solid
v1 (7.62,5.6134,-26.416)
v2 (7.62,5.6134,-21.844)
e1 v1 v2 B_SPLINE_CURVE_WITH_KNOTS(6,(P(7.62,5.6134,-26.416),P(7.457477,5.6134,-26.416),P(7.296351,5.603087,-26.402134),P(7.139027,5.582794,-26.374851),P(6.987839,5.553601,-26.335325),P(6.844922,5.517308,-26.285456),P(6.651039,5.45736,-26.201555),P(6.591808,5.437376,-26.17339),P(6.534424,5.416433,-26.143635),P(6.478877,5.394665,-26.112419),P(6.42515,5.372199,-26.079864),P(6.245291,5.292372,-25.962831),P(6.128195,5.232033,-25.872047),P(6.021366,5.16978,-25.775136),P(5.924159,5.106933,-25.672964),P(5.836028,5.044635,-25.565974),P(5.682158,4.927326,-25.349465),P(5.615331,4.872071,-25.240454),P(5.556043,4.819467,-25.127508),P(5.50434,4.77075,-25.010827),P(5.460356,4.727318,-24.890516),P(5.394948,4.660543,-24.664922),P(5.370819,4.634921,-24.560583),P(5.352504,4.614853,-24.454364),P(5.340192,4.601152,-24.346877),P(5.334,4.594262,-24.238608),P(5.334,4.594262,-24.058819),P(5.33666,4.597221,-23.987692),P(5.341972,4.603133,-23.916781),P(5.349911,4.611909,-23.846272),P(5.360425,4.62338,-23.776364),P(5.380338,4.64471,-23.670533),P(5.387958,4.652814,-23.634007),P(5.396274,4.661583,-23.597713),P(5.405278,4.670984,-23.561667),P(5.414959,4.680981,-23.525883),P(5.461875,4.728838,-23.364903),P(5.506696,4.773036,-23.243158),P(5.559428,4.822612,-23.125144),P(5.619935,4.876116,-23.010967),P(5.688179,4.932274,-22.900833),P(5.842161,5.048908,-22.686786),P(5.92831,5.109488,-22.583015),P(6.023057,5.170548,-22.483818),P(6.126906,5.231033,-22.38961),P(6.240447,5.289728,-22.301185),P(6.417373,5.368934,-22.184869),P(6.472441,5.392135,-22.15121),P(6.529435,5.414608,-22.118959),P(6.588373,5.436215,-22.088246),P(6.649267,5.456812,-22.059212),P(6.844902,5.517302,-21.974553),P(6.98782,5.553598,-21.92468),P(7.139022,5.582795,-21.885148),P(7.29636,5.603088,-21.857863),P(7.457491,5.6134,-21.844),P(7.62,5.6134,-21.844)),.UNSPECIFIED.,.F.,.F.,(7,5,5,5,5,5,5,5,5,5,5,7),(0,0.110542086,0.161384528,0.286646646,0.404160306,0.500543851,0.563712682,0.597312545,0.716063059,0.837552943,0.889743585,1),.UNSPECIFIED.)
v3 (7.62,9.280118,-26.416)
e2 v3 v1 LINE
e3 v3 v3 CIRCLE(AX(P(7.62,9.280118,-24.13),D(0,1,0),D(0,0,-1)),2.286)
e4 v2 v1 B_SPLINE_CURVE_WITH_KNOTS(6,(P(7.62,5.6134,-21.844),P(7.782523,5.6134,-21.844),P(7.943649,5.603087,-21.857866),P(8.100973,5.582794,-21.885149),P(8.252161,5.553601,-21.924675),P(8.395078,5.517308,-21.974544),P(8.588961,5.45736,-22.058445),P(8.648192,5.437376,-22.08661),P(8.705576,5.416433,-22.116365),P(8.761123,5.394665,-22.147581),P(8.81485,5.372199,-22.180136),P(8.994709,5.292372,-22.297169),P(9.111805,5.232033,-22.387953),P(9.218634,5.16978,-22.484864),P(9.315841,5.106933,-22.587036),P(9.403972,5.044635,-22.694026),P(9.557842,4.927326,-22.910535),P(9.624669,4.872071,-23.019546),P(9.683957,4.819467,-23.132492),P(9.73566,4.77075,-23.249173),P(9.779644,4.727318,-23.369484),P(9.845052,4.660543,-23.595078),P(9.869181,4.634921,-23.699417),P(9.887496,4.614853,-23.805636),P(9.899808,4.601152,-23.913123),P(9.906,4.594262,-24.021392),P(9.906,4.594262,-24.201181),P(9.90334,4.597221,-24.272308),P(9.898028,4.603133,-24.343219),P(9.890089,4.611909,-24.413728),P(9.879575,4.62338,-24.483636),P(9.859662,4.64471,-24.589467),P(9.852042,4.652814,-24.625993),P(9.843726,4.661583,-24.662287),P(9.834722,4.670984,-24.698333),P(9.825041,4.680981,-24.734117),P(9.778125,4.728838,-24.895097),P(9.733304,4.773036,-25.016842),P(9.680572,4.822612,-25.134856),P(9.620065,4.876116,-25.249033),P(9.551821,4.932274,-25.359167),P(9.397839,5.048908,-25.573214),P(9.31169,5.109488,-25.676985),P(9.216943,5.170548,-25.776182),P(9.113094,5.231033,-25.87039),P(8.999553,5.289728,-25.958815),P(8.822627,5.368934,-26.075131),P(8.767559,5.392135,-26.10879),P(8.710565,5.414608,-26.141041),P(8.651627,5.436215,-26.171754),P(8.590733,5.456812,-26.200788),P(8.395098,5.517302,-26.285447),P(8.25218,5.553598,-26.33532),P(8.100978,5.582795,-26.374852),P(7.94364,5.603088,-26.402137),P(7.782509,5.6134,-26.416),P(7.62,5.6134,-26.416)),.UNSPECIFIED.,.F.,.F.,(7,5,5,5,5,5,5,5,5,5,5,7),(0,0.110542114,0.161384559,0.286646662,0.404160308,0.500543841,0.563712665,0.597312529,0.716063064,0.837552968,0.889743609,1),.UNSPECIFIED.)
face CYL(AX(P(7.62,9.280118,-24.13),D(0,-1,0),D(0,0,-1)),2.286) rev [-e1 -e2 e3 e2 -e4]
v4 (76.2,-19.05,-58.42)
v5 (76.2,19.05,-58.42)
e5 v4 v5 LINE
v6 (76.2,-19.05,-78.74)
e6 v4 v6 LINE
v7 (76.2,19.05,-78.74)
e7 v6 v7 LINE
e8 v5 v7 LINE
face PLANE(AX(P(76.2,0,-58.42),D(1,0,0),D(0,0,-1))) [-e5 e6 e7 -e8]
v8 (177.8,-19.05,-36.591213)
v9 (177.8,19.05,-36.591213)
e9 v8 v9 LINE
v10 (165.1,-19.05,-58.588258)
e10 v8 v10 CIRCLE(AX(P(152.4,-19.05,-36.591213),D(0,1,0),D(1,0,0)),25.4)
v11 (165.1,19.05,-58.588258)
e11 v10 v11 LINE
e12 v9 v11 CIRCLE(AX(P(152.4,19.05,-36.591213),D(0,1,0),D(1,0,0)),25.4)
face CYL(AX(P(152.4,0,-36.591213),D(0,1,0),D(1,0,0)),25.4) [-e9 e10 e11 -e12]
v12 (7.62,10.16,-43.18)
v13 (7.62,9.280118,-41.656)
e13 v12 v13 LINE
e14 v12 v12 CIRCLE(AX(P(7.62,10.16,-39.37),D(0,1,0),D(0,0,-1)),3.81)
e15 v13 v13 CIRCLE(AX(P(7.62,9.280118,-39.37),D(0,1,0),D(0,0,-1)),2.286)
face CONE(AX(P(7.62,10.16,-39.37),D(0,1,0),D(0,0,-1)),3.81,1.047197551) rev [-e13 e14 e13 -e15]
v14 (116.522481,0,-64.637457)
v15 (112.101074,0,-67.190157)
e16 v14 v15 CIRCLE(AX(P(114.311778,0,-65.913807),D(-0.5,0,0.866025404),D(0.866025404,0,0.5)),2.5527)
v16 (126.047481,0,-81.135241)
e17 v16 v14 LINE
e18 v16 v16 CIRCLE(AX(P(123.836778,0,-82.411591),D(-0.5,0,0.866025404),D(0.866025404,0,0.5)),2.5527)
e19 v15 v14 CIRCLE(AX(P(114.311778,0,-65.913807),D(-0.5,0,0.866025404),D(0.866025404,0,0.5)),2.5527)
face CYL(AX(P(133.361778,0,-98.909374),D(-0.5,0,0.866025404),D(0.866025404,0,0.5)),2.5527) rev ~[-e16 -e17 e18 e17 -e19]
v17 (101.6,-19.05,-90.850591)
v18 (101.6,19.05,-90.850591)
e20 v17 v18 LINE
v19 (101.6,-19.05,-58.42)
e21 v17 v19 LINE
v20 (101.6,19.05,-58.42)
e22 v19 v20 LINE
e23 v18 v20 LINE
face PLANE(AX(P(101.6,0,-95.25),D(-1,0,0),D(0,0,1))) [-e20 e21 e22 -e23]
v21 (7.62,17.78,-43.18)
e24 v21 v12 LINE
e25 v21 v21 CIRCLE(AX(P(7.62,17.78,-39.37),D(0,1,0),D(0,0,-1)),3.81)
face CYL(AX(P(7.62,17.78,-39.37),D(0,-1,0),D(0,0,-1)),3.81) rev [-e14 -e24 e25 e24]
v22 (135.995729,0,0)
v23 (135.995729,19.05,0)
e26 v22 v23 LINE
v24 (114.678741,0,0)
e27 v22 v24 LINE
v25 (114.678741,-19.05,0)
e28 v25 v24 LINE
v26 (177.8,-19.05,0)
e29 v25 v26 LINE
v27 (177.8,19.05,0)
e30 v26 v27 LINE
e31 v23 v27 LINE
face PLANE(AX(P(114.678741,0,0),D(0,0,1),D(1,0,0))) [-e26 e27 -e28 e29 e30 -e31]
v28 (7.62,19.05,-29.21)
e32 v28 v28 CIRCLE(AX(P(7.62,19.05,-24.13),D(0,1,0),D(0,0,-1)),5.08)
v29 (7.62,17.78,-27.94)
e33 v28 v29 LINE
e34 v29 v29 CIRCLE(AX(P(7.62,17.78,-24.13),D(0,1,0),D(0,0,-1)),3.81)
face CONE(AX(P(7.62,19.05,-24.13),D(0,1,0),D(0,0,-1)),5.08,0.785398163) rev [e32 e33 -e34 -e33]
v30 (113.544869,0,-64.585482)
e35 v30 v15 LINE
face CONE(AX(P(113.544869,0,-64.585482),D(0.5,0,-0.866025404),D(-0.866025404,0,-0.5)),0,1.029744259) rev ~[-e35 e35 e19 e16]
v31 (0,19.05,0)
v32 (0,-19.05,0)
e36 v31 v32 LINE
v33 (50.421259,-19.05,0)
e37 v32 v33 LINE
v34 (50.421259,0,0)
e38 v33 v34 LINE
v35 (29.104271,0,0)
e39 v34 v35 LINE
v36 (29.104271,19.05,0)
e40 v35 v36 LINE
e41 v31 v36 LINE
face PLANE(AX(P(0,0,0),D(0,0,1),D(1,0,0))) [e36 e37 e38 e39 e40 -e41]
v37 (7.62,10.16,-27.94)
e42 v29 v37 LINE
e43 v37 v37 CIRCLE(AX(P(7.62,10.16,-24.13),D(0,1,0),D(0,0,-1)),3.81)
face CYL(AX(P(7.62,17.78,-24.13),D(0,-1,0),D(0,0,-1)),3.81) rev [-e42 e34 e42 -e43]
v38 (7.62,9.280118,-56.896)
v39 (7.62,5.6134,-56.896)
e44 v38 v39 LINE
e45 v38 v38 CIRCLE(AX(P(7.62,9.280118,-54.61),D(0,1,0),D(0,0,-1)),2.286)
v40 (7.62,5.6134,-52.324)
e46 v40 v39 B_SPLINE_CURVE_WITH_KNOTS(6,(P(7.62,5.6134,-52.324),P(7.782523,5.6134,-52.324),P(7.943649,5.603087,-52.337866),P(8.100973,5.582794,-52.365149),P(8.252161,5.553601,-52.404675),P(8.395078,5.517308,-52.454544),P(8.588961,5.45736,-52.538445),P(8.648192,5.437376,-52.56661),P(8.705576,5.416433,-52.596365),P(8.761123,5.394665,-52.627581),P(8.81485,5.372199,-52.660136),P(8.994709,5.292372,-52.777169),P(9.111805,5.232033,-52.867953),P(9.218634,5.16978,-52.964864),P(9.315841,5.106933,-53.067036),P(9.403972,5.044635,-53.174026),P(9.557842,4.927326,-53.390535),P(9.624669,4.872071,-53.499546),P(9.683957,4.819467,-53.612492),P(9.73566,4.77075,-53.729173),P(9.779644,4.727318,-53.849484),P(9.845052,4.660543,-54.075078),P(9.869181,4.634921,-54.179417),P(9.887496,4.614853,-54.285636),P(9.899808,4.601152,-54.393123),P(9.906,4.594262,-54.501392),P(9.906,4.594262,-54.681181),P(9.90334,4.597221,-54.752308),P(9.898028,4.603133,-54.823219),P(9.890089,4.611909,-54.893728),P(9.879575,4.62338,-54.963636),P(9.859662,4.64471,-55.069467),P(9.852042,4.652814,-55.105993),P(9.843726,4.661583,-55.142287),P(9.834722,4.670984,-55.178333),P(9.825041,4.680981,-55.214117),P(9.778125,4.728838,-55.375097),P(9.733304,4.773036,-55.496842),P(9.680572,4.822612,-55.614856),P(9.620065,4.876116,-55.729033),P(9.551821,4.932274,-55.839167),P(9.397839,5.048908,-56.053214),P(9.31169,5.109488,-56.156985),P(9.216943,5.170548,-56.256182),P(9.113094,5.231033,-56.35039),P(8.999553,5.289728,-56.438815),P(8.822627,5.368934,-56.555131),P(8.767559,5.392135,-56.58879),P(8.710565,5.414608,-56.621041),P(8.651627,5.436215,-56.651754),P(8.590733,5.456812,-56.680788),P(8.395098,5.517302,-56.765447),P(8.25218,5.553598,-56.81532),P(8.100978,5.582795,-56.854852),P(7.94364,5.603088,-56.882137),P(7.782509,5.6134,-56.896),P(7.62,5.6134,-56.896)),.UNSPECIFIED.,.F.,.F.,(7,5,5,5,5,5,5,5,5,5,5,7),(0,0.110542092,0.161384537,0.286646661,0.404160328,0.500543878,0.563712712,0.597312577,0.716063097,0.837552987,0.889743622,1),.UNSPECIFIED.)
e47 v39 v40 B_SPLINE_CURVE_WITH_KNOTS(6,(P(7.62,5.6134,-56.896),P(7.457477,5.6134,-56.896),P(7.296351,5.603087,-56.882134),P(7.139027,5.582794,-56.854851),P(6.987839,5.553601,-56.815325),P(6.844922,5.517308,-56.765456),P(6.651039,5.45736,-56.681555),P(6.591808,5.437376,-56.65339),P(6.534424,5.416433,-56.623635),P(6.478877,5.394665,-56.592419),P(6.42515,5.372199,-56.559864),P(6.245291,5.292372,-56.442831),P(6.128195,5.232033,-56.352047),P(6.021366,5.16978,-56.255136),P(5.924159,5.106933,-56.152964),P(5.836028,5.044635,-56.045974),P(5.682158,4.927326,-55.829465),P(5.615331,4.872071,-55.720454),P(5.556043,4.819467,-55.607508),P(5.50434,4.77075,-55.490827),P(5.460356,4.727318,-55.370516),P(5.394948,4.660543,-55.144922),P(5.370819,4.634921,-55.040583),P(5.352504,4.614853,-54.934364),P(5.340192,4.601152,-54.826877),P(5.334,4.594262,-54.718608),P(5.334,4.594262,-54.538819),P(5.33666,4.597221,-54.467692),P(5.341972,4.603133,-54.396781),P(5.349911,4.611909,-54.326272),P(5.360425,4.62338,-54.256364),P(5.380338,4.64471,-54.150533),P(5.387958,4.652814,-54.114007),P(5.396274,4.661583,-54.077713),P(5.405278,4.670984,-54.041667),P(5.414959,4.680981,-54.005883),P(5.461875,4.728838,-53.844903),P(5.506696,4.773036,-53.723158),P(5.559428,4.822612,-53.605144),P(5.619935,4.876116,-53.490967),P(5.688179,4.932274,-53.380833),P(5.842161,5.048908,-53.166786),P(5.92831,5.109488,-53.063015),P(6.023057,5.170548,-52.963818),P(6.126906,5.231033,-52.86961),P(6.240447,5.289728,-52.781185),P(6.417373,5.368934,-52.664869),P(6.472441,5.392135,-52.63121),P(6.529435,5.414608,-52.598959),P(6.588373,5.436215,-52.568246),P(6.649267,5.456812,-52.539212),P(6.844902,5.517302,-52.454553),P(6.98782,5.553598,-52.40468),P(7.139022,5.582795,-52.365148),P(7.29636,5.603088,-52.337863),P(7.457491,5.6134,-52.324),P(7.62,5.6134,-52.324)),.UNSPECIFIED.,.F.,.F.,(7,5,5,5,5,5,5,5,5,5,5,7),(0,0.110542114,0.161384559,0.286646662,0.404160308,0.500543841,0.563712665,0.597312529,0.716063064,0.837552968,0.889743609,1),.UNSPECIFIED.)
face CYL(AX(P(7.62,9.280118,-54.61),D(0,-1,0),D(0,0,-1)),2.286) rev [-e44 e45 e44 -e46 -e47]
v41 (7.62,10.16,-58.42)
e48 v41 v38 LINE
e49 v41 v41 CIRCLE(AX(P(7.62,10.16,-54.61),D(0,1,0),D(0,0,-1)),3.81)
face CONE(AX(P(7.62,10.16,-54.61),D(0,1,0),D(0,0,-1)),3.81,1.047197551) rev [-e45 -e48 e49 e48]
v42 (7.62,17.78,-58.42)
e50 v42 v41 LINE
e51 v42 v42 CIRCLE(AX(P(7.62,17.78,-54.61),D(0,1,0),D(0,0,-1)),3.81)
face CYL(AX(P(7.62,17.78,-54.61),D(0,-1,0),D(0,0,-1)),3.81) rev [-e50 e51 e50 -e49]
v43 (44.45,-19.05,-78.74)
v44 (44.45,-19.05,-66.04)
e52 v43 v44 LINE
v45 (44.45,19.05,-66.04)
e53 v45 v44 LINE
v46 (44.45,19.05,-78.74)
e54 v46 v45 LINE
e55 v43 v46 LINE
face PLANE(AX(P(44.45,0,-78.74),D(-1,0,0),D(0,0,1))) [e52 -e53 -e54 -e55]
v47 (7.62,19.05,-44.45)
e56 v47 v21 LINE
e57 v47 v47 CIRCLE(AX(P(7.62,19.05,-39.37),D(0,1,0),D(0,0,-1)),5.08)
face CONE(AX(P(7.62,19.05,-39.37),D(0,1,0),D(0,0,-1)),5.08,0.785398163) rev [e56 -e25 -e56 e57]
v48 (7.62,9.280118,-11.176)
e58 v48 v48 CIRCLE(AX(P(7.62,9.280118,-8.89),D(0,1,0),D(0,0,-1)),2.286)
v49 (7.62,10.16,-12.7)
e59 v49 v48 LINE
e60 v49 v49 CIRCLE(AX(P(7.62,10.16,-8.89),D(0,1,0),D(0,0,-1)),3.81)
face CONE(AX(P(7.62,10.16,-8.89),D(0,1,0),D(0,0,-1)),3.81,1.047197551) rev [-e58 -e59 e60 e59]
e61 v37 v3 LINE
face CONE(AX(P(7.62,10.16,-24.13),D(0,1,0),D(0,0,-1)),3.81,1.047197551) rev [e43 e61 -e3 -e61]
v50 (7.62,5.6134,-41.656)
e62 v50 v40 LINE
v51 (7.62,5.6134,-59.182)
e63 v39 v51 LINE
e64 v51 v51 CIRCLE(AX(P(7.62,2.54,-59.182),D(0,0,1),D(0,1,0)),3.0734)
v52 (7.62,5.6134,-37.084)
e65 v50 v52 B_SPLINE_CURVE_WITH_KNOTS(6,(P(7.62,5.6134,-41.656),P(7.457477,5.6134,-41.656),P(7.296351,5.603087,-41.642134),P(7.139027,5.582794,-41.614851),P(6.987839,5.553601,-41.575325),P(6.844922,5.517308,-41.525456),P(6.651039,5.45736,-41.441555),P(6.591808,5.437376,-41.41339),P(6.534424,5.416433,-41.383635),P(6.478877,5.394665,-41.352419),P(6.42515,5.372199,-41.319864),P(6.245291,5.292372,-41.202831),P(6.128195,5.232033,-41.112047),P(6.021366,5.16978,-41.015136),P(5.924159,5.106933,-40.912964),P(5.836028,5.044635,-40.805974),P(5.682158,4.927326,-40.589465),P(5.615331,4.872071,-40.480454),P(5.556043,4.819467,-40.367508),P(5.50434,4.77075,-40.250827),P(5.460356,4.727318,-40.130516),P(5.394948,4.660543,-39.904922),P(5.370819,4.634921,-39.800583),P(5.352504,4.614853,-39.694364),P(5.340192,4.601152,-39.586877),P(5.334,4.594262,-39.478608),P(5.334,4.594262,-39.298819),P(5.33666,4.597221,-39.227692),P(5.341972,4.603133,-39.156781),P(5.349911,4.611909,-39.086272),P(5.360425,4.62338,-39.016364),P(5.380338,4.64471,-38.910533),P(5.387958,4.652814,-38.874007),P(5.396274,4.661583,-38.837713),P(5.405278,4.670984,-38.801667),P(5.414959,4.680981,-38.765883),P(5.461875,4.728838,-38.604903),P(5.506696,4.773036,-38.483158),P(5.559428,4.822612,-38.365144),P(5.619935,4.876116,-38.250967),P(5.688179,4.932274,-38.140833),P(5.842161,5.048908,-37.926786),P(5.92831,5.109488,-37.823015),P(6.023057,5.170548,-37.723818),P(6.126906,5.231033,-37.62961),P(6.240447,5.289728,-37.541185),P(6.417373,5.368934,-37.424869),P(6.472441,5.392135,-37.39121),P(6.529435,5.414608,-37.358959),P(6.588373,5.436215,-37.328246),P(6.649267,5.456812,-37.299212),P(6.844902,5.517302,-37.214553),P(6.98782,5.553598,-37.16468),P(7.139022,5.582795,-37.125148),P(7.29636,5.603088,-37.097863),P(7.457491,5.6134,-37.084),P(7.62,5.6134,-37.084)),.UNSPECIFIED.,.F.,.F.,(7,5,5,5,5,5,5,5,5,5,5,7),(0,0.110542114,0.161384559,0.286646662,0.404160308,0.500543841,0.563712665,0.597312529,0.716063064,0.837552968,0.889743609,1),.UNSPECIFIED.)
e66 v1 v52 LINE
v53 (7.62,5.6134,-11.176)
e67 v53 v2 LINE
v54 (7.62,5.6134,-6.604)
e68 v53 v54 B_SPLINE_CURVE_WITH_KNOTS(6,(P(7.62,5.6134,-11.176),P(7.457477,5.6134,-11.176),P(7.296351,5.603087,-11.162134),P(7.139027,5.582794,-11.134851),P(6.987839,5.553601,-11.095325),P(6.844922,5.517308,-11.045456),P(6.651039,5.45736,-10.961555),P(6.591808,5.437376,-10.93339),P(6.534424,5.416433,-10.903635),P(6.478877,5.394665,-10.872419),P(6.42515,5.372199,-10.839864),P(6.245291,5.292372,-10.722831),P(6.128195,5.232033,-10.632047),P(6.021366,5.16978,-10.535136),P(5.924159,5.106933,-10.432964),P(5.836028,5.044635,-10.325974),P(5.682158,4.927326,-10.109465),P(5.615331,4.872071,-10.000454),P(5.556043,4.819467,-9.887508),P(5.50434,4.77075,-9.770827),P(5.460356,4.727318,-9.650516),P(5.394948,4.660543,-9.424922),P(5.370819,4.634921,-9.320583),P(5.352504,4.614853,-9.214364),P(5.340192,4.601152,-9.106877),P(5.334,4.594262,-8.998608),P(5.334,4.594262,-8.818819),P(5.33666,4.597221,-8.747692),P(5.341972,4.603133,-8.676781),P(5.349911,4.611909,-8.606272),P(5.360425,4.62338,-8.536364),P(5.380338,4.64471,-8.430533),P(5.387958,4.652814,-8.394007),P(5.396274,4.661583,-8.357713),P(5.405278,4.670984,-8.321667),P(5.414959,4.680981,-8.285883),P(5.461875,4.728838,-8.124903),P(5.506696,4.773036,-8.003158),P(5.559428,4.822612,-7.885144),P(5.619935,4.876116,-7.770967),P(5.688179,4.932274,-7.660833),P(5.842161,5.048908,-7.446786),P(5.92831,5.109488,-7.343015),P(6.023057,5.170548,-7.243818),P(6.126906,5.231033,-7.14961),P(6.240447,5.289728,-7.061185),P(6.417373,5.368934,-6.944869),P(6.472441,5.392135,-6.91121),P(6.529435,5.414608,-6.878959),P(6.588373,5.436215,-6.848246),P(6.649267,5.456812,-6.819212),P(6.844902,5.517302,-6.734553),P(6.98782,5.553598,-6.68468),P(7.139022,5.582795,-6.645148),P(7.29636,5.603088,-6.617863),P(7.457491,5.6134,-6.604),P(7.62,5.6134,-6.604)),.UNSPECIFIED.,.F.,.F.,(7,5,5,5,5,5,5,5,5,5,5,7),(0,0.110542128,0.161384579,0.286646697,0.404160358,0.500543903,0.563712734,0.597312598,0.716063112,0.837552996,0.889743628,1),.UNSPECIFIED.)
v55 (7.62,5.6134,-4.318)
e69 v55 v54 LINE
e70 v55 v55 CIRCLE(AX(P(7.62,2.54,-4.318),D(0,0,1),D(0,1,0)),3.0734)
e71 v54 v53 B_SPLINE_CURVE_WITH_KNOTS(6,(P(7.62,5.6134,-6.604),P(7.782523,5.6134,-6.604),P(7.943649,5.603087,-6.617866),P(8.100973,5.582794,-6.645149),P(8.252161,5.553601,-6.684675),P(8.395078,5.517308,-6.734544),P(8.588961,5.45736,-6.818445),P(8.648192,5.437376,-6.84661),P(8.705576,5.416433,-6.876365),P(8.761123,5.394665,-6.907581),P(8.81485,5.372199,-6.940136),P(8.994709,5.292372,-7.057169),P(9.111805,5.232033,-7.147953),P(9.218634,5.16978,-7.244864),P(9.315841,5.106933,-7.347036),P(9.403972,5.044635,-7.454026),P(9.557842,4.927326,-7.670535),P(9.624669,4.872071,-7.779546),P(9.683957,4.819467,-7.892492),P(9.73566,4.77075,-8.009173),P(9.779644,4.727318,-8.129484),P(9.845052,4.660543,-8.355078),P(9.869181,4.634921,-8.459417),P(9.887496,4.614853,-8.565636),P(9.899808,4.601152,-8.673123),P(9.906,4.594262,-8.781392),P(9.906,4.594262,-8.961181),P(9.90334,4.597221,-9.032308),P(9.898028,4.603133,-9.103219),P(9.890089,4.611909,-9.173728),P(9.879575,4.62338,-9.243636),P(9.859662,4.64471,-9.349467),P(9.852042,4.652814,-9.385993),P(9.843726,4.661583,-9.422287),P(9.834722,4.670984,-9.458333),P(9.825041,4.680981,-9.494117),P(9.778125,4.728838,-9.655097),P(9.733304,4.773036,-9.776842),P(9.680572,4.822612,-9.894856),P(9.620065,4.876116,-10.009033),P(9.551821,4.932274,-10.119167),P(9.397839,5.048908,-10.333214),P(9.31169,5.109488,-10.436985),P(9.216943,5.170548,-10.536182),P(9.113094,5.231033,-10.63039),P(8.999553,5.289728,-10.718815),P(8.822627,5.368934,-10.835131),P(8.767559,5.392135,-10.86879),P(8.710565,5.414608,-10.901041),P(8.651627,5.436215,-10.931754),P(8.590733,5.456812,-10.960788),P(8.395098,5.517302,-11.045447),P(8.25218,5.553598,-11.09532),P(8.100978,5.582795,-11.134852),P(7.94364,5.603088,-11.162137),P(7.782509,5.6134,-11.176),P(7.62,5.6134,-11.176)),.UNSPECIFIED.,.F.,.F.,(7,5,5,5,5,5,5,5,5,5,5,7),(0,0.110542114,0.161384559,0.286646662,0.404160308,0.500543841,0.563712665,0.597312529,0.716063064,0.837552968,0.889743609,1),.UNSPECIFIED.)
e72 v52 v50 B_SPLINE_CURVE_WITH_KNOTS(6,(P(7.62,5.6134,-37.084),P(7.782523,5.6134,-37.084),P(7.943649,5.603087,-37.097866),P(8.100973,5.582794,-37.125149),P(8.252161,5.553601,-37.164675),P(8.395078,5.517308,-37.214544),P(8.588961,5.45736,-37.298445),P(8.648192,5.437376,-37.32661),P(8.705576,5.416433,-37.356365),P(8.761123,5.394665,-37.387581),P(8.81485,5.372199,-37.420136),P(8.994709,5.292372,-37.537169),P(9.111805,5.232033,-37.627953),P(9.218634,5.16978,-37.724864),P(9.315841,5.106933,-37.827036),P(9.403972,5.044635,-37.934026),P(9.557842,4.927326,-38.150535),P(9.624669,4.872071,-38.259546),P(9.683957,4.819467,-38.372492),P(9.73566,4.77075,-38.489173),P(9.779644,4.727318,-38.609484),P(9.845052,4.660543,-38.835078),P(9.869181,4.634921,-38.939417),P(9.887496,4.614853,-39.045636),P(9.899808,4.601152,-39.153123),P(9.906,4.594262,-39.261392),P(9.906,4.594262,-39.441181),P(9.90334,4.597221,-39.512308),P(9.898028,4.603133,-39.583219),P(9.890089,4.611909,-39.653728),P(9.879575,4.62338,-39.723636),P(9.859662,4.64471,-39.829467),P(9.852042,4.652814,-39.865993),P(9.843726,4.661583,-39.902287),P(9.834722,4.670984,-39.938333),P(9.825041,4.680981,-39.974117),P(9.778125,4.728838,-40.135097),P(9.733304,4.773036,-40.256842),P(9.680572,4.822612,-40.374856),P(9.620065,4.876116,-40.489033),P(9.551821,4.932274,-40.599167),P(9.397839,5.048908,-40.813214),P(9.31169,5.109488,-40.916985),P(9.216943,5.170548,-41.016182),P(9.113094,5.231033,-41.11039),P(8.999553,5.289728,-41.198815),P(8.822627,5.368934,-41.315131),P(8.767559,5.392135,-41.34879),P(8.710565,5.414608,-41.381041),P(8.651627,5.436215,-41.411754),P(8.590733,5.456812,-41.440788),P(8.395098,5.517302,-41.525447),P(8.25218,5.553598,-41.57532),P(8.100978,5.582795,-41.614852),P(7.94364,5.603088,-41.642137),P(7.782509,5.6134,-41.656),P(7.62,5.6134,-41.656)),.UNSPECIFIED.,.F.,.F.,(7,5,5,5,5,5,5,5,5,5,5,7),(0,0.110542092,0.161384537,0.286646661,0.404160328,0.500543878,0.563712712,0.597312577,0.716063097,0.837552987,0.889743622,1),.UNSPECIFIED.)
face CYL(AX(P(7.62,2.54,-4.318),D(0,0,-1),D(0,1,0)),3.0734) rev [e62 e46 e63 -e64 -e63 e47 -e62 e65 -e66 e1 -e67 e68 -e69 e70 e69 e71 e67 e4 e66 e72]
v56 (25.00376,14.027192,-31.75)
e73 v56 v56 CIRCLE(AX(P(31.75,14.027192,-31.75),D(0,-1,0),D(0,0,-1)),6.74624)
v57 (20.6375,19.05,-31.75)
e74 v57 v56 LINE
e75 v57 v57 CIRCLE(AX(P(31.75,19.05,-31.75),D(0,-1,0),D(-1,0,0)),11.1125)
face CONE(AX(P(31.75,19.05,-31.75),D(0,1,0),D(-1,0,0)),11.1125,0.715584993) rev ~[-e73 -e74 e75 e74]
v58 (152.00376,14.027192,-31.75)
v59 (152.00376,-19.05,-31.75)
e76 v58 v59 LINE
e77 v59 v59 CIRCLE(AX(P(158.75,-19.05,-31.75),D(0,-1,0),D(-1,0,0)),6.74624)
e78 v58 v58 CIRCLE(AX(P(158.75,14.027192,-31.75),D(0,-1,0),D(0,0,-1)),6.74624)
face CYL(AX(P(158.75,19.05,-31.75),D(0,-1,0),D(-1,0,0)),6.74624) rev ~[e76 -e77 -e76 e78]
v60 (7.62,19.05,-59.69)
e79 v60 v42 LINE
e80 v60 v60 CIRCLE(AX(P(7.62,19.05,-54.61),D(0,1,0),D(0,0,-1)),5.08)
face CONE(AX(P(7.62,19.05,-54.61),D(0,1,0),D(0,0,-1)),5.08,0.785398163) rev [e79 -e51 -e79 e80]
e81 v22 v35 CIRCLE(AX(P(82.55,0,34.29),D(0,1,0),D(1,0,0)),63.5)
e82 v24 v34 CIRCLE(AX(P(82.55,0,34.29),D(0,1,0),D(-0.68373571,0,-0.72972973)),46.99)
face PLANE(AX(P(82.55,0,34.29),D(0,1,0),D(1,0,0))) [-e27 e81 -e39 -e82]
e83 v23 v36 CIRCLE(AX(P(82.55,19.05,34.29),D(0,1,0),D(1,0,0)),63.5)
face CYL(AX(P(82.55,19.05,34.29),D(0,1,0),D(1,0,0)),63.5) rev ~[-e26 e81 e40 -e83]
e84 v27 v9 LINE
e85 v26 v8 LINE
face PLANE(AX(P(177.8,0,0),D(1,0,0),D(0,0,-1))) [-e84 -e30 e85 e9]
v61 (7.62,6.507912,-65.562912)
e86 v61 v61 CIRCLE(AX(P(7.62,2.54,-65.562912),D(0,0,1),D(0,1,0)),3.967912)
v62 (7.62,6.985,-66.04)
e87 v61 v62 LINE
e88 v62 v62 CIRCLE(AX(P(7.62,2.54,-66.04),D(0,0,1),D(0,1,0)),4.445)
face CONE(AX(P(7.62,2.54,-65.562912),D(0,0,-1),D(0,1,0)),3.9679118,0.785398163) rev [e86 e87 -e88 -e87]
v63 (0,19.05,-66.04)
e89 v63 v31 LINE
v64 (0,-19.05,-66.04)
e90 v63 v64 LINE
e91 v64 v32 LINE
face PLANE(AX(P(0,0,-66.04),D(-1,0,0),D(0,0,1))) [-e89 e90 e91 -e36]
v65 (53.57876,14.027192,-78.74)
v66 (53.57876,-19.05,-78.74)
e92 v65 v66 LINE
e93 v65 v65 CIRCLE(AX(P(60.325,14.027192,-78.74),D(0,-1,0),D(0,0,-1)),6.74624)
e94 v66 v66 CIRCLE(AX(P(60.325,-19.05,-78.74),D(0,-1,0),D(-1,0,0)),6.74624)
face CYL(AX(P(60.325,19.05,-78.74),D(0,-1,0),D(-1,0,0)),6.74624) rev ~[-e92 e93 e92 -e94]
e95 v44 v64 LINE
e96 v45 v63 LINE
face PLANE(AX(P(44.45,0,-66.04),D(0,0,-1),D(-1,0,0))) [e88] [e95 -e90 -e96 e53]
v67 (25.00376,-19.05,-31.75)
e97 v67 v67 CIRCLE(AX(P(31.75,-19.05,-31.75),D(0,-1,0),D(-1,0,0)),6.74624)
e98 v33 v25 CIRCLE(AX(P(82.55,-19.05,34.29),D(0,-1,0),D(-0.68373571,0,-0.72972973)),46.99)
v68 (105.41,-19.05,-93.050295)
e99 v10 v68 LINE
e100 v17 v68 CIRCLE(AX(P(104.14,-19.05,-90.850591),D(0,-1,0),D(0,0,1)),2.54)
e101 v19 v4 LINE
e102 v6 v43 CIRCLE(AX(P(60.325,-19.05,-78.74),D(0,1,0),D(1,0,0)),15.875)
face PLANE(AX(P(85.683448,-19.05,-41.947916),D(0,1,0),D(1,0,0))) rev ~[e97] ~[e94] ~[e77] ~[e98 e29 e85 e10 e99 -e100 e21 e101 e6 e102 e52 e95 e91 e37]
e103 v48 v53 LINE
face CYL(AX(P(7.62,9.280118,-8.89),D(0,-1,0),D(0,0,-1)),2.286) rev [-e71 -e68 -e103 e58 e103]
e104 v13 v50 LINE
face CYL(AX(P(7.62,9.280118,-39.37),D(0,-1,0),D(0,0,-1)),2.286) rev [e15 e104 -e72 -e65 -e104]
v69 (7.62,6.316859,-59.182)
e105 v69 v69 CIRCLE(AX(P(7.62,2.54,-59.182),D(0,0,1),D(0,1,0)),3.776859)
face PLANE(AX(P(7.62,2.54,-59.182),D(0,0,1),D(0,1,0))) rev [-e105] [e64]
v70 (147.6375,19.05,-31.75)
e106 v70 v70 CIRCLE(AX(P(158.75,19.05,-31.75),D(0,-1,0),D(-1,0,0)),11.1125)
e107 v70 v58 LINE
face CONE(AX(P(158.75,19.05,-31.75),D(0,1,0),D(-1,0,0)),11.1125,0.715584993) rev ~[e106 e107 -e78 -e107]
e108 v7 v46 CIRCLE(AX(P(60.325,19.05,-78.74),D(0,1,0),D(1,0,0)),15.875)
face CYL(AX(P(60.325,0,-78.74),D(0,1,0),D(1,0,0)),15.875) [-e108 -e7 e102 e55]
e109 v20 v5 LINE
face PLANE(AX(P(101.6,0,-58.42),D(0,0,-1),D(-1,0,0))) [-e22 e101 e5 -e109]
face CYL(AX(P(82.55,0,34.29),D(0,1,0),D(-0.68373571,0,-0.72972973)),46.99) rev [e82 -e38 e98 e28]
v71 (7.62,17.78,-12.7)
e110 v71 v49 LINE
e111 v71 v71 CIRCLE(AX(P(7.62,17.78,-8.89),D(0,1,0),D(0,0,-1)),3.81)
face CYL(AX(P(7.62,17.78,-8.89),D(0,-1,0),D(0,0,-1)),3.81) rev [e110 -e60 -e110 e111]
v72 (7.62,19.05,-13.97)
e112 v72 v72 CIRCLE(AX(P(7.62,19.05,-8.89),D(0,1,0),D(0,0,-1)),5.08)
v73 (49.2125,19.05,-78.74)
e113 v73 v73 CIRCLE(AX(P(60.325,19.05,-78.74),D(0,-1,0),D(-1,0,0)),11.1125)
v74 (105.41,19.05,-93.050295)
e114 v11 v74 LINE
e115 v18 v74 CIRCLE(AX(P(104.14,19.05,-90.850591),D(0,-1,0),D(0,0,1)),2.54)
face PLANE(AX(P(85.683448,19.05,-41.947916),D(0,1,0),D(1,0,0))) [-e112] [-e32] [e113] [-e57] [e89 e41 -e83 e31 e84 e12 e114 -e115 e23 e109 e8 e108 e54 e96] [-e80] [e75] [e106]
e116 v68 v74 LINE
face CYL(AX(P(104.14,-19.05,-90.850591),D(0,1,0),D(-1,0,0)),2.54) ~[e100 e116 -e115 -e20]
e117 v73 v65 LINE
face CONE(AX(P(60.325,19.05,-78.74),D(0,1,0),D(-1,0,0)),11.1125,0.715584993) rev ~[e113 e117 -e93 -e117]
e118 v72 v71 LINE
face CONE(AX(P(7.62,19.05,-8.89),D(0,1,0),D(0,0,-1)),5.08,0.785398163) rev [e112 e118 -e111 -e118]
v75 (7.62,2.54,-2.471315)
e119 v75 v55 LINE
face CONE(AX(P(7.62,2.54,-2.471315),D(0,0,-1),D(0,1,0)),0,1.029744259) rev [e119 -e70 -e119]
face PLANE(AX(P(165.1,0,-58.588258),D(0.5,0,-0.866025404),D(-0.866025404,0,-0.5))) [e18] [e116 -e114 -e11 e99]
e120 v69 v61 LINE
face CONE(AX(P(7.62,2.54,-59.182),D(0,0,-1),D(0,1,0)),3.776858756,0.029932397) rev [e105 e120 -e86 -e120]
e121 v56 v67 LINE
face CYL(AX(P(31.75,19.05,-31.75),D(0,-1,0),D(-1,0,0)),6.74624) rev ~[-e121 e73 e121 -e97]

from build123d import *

# Parameters (mm, degrees)
BOSS_EXTRUDE1_DEPTH                              = 19.05
F_1_4_20_TAPPED_HOLE1_D                          = 5.1054
F_1_4_20_TAPPED_HOLE1_DEPTH                      = 19.05
F_1_4_20_TAPPED_HOLE1_TIP                        = 1.533816902
SKETCH4_R                                        = 63.5
CUT_EXTRUDE1_DEPTH                               = 19.05
CSK_FOR_1_2_FLAT_HEAD_MACHINE_SCREW1_D           = 13.49248
CSK_FOR_1_2_FLAT_HEAD_MACHINE_SCREW1_CSINK_D     = 22.225
CSK_FOR_1_2_FLAT_HEAD_MACHINE_SCREW1_CSINK_ANGLE = 82
FILLET1_R                                        = 2.54
LPATTERN1_COUNT                                  = 4
LPATTERN1_PITCH                                  = 15.24


with BuildPart() as part:
    # Sketch1 → Boss-Extrude1 (new, symmetric)
    with BuildSketch(Plane(origin=(0, 0, 0), x_dir=(1, 0, 0), z_dir=(0, 1, 0))):
        with BuildLine():
            Line((0, 0), (50.421258973, 0))
            ThreePointArc((50.421258973, 0), (82.55, 12.7), (114.678741027, 0))
            Line((114.678741027, 0), (177.8, 0))
            Line((177.8, 0), (177.8, 36.59121265))
            ThreePointArc((177.8, 36.59121265), (174.397045256, 49.29121265), (165.1, 58.588257906))
            Line((165.1, 58.588257906), (101.6, 95.25))
            Line((101.6, 95.25), (101.6, 58.42))
            Line((101.6, 58.42), (76.2, 58.42))
            Line((76.2, 58.42), (76.2, 78.74))
            ThreePointArc((76.2, 78.74), (60.325, 94.615), (44.45, 78.74))
            Line((44.45, 78.74), (44.45, 66.04))
            Line((44.45, 66.04), (0, 66.04))
            Line((0, 66.04), (0, 0))
        make_face()
    extrude(amount=BOSS_EXTRUDE1_DEPTH, both=True)

    # 1/4-20 Tapped Hole1
    with Locations(Plane(origin=(66.644459855, 0, -115.431590512), x_dir=(-0.86602540378444, 0, -0.49999999999999784), z_dir=(0.49999999999999784, 0, -0.86602540378444))):
        with Locations((-66.04, 0)):
            Hole(F_1_4_20_TAPPED_HOLE1_D / 2, depth=F_1_4_20_TAPPED_HOLE1_DEPTH)
            with Locations((0, 0, -(F_1_4_20_TAPPED_HOLE1_DEPTH + F_1_4_20_TAPPED_HOLE1_TIP / 2))):  # 118° drill point
                Cone(0, F_1_4_20_TAPPED_HOLE1_D / 2, F_1_4_20_TAPPED_HOLE1_TIP, mode=Mode.SUBTRACT)

    # Sketch4 → Cut-Extrude1 (cut)
    with BuildSketch(Plane(origin=(0, 19.05, 0), x_dir=(1, 0, 0), z_dir=(0, 1, 0))):
        with Locations((82.55, -34.29)):
            Circle(SKETCH4_R)
    extrude(amount=-CUT_EXTRUDE1_DEPTH, mode=Mode.SUBTRACT)

    # CSK for 1/2 Flat Head Machine Screw1 (through all)
    with Locations(Plane(origin=(0, 19.05, 0), x_dir=(1, 0, 0), z_dir=(0, 1, 0))):
        with Locations((60.325, 78.74), (31.75, 31.75), (158.75, 31.75)):
            CounterSinkHole(CSK_FOR_1_2_FLAT_HEAD_MACHINE_SCREW1_D / 2, CSK_FOR_1_2_FLAT_HEAD_MACHINE_SCREW1_CSINK_D / 2, counter_sink_angle=CSK_FOR_1_2_FLAT_HEAD_MACHINE_SCREW1_CSINK_ANGLE)

    # Fillet1
    fillet1_edges = [part.edges().sort_by_distance(p)[0] for p in [
        (101.6, 0, -95.25),
    ]]
    fillet(fillet1_edges, radius=FILLET1_R)

    # Sketch8 → Cut-Revolve1 (revolve, cut)
    with BuildSketch(Plane(origin=(7.62, 0, 0), x_dir=(0, 0, -1), z_dir=(1, 0, 0)), mode=Mode.PRIVATE) as cut_revolve1_sk:
        Polygon((3.81, 19.05), (5.08, 17.78), (5.08, 10.16), (6.604, 9.28011819), (6.604, 2.643567375), (8.89, 1.27), (8.89, 19.05), align=None)
    cut_revolve1 = revolve(cut_revolve1_sk.sketch.rotate(Axis((7.62, 1.27, -8.89), (0, 1, 0)), 180), axis=Axis((7.62, 1.27, -8.89), (0, 1, 0)), mode=Mode.SUBTRACT)

    # LPattern1: Cut-Revolve1 ×4
    with Locations(*[(0, 0, -i * LPATTERN1_PITCH) for i in range(1, LPATTERN1_COUNT)]):
        add(cut_revolve1, mode=Mode.SUBTRACT)

    # Sketch9 → 1/16 NPT Tapped Hole1 (revolve, cut)
    with BuildSketch(Plane(origin=(7.62, 2.54, -66.04), x_dir=(0, 1, 0), z_dir=(1, 0, 0))):
        Polygon((0, 0), (0, 63.568685027), (3.0734, 61.722), (3.0734, 6.858), (3.776858756, 6.858), (3.9679118, 0.4770882), (4.445, 0), align=None)
    revolve(axis=Axis((7.62, 2.54, -72.39), (0, 0, 1)), mode=Mode.SUBTRACT)


solid = part.part
